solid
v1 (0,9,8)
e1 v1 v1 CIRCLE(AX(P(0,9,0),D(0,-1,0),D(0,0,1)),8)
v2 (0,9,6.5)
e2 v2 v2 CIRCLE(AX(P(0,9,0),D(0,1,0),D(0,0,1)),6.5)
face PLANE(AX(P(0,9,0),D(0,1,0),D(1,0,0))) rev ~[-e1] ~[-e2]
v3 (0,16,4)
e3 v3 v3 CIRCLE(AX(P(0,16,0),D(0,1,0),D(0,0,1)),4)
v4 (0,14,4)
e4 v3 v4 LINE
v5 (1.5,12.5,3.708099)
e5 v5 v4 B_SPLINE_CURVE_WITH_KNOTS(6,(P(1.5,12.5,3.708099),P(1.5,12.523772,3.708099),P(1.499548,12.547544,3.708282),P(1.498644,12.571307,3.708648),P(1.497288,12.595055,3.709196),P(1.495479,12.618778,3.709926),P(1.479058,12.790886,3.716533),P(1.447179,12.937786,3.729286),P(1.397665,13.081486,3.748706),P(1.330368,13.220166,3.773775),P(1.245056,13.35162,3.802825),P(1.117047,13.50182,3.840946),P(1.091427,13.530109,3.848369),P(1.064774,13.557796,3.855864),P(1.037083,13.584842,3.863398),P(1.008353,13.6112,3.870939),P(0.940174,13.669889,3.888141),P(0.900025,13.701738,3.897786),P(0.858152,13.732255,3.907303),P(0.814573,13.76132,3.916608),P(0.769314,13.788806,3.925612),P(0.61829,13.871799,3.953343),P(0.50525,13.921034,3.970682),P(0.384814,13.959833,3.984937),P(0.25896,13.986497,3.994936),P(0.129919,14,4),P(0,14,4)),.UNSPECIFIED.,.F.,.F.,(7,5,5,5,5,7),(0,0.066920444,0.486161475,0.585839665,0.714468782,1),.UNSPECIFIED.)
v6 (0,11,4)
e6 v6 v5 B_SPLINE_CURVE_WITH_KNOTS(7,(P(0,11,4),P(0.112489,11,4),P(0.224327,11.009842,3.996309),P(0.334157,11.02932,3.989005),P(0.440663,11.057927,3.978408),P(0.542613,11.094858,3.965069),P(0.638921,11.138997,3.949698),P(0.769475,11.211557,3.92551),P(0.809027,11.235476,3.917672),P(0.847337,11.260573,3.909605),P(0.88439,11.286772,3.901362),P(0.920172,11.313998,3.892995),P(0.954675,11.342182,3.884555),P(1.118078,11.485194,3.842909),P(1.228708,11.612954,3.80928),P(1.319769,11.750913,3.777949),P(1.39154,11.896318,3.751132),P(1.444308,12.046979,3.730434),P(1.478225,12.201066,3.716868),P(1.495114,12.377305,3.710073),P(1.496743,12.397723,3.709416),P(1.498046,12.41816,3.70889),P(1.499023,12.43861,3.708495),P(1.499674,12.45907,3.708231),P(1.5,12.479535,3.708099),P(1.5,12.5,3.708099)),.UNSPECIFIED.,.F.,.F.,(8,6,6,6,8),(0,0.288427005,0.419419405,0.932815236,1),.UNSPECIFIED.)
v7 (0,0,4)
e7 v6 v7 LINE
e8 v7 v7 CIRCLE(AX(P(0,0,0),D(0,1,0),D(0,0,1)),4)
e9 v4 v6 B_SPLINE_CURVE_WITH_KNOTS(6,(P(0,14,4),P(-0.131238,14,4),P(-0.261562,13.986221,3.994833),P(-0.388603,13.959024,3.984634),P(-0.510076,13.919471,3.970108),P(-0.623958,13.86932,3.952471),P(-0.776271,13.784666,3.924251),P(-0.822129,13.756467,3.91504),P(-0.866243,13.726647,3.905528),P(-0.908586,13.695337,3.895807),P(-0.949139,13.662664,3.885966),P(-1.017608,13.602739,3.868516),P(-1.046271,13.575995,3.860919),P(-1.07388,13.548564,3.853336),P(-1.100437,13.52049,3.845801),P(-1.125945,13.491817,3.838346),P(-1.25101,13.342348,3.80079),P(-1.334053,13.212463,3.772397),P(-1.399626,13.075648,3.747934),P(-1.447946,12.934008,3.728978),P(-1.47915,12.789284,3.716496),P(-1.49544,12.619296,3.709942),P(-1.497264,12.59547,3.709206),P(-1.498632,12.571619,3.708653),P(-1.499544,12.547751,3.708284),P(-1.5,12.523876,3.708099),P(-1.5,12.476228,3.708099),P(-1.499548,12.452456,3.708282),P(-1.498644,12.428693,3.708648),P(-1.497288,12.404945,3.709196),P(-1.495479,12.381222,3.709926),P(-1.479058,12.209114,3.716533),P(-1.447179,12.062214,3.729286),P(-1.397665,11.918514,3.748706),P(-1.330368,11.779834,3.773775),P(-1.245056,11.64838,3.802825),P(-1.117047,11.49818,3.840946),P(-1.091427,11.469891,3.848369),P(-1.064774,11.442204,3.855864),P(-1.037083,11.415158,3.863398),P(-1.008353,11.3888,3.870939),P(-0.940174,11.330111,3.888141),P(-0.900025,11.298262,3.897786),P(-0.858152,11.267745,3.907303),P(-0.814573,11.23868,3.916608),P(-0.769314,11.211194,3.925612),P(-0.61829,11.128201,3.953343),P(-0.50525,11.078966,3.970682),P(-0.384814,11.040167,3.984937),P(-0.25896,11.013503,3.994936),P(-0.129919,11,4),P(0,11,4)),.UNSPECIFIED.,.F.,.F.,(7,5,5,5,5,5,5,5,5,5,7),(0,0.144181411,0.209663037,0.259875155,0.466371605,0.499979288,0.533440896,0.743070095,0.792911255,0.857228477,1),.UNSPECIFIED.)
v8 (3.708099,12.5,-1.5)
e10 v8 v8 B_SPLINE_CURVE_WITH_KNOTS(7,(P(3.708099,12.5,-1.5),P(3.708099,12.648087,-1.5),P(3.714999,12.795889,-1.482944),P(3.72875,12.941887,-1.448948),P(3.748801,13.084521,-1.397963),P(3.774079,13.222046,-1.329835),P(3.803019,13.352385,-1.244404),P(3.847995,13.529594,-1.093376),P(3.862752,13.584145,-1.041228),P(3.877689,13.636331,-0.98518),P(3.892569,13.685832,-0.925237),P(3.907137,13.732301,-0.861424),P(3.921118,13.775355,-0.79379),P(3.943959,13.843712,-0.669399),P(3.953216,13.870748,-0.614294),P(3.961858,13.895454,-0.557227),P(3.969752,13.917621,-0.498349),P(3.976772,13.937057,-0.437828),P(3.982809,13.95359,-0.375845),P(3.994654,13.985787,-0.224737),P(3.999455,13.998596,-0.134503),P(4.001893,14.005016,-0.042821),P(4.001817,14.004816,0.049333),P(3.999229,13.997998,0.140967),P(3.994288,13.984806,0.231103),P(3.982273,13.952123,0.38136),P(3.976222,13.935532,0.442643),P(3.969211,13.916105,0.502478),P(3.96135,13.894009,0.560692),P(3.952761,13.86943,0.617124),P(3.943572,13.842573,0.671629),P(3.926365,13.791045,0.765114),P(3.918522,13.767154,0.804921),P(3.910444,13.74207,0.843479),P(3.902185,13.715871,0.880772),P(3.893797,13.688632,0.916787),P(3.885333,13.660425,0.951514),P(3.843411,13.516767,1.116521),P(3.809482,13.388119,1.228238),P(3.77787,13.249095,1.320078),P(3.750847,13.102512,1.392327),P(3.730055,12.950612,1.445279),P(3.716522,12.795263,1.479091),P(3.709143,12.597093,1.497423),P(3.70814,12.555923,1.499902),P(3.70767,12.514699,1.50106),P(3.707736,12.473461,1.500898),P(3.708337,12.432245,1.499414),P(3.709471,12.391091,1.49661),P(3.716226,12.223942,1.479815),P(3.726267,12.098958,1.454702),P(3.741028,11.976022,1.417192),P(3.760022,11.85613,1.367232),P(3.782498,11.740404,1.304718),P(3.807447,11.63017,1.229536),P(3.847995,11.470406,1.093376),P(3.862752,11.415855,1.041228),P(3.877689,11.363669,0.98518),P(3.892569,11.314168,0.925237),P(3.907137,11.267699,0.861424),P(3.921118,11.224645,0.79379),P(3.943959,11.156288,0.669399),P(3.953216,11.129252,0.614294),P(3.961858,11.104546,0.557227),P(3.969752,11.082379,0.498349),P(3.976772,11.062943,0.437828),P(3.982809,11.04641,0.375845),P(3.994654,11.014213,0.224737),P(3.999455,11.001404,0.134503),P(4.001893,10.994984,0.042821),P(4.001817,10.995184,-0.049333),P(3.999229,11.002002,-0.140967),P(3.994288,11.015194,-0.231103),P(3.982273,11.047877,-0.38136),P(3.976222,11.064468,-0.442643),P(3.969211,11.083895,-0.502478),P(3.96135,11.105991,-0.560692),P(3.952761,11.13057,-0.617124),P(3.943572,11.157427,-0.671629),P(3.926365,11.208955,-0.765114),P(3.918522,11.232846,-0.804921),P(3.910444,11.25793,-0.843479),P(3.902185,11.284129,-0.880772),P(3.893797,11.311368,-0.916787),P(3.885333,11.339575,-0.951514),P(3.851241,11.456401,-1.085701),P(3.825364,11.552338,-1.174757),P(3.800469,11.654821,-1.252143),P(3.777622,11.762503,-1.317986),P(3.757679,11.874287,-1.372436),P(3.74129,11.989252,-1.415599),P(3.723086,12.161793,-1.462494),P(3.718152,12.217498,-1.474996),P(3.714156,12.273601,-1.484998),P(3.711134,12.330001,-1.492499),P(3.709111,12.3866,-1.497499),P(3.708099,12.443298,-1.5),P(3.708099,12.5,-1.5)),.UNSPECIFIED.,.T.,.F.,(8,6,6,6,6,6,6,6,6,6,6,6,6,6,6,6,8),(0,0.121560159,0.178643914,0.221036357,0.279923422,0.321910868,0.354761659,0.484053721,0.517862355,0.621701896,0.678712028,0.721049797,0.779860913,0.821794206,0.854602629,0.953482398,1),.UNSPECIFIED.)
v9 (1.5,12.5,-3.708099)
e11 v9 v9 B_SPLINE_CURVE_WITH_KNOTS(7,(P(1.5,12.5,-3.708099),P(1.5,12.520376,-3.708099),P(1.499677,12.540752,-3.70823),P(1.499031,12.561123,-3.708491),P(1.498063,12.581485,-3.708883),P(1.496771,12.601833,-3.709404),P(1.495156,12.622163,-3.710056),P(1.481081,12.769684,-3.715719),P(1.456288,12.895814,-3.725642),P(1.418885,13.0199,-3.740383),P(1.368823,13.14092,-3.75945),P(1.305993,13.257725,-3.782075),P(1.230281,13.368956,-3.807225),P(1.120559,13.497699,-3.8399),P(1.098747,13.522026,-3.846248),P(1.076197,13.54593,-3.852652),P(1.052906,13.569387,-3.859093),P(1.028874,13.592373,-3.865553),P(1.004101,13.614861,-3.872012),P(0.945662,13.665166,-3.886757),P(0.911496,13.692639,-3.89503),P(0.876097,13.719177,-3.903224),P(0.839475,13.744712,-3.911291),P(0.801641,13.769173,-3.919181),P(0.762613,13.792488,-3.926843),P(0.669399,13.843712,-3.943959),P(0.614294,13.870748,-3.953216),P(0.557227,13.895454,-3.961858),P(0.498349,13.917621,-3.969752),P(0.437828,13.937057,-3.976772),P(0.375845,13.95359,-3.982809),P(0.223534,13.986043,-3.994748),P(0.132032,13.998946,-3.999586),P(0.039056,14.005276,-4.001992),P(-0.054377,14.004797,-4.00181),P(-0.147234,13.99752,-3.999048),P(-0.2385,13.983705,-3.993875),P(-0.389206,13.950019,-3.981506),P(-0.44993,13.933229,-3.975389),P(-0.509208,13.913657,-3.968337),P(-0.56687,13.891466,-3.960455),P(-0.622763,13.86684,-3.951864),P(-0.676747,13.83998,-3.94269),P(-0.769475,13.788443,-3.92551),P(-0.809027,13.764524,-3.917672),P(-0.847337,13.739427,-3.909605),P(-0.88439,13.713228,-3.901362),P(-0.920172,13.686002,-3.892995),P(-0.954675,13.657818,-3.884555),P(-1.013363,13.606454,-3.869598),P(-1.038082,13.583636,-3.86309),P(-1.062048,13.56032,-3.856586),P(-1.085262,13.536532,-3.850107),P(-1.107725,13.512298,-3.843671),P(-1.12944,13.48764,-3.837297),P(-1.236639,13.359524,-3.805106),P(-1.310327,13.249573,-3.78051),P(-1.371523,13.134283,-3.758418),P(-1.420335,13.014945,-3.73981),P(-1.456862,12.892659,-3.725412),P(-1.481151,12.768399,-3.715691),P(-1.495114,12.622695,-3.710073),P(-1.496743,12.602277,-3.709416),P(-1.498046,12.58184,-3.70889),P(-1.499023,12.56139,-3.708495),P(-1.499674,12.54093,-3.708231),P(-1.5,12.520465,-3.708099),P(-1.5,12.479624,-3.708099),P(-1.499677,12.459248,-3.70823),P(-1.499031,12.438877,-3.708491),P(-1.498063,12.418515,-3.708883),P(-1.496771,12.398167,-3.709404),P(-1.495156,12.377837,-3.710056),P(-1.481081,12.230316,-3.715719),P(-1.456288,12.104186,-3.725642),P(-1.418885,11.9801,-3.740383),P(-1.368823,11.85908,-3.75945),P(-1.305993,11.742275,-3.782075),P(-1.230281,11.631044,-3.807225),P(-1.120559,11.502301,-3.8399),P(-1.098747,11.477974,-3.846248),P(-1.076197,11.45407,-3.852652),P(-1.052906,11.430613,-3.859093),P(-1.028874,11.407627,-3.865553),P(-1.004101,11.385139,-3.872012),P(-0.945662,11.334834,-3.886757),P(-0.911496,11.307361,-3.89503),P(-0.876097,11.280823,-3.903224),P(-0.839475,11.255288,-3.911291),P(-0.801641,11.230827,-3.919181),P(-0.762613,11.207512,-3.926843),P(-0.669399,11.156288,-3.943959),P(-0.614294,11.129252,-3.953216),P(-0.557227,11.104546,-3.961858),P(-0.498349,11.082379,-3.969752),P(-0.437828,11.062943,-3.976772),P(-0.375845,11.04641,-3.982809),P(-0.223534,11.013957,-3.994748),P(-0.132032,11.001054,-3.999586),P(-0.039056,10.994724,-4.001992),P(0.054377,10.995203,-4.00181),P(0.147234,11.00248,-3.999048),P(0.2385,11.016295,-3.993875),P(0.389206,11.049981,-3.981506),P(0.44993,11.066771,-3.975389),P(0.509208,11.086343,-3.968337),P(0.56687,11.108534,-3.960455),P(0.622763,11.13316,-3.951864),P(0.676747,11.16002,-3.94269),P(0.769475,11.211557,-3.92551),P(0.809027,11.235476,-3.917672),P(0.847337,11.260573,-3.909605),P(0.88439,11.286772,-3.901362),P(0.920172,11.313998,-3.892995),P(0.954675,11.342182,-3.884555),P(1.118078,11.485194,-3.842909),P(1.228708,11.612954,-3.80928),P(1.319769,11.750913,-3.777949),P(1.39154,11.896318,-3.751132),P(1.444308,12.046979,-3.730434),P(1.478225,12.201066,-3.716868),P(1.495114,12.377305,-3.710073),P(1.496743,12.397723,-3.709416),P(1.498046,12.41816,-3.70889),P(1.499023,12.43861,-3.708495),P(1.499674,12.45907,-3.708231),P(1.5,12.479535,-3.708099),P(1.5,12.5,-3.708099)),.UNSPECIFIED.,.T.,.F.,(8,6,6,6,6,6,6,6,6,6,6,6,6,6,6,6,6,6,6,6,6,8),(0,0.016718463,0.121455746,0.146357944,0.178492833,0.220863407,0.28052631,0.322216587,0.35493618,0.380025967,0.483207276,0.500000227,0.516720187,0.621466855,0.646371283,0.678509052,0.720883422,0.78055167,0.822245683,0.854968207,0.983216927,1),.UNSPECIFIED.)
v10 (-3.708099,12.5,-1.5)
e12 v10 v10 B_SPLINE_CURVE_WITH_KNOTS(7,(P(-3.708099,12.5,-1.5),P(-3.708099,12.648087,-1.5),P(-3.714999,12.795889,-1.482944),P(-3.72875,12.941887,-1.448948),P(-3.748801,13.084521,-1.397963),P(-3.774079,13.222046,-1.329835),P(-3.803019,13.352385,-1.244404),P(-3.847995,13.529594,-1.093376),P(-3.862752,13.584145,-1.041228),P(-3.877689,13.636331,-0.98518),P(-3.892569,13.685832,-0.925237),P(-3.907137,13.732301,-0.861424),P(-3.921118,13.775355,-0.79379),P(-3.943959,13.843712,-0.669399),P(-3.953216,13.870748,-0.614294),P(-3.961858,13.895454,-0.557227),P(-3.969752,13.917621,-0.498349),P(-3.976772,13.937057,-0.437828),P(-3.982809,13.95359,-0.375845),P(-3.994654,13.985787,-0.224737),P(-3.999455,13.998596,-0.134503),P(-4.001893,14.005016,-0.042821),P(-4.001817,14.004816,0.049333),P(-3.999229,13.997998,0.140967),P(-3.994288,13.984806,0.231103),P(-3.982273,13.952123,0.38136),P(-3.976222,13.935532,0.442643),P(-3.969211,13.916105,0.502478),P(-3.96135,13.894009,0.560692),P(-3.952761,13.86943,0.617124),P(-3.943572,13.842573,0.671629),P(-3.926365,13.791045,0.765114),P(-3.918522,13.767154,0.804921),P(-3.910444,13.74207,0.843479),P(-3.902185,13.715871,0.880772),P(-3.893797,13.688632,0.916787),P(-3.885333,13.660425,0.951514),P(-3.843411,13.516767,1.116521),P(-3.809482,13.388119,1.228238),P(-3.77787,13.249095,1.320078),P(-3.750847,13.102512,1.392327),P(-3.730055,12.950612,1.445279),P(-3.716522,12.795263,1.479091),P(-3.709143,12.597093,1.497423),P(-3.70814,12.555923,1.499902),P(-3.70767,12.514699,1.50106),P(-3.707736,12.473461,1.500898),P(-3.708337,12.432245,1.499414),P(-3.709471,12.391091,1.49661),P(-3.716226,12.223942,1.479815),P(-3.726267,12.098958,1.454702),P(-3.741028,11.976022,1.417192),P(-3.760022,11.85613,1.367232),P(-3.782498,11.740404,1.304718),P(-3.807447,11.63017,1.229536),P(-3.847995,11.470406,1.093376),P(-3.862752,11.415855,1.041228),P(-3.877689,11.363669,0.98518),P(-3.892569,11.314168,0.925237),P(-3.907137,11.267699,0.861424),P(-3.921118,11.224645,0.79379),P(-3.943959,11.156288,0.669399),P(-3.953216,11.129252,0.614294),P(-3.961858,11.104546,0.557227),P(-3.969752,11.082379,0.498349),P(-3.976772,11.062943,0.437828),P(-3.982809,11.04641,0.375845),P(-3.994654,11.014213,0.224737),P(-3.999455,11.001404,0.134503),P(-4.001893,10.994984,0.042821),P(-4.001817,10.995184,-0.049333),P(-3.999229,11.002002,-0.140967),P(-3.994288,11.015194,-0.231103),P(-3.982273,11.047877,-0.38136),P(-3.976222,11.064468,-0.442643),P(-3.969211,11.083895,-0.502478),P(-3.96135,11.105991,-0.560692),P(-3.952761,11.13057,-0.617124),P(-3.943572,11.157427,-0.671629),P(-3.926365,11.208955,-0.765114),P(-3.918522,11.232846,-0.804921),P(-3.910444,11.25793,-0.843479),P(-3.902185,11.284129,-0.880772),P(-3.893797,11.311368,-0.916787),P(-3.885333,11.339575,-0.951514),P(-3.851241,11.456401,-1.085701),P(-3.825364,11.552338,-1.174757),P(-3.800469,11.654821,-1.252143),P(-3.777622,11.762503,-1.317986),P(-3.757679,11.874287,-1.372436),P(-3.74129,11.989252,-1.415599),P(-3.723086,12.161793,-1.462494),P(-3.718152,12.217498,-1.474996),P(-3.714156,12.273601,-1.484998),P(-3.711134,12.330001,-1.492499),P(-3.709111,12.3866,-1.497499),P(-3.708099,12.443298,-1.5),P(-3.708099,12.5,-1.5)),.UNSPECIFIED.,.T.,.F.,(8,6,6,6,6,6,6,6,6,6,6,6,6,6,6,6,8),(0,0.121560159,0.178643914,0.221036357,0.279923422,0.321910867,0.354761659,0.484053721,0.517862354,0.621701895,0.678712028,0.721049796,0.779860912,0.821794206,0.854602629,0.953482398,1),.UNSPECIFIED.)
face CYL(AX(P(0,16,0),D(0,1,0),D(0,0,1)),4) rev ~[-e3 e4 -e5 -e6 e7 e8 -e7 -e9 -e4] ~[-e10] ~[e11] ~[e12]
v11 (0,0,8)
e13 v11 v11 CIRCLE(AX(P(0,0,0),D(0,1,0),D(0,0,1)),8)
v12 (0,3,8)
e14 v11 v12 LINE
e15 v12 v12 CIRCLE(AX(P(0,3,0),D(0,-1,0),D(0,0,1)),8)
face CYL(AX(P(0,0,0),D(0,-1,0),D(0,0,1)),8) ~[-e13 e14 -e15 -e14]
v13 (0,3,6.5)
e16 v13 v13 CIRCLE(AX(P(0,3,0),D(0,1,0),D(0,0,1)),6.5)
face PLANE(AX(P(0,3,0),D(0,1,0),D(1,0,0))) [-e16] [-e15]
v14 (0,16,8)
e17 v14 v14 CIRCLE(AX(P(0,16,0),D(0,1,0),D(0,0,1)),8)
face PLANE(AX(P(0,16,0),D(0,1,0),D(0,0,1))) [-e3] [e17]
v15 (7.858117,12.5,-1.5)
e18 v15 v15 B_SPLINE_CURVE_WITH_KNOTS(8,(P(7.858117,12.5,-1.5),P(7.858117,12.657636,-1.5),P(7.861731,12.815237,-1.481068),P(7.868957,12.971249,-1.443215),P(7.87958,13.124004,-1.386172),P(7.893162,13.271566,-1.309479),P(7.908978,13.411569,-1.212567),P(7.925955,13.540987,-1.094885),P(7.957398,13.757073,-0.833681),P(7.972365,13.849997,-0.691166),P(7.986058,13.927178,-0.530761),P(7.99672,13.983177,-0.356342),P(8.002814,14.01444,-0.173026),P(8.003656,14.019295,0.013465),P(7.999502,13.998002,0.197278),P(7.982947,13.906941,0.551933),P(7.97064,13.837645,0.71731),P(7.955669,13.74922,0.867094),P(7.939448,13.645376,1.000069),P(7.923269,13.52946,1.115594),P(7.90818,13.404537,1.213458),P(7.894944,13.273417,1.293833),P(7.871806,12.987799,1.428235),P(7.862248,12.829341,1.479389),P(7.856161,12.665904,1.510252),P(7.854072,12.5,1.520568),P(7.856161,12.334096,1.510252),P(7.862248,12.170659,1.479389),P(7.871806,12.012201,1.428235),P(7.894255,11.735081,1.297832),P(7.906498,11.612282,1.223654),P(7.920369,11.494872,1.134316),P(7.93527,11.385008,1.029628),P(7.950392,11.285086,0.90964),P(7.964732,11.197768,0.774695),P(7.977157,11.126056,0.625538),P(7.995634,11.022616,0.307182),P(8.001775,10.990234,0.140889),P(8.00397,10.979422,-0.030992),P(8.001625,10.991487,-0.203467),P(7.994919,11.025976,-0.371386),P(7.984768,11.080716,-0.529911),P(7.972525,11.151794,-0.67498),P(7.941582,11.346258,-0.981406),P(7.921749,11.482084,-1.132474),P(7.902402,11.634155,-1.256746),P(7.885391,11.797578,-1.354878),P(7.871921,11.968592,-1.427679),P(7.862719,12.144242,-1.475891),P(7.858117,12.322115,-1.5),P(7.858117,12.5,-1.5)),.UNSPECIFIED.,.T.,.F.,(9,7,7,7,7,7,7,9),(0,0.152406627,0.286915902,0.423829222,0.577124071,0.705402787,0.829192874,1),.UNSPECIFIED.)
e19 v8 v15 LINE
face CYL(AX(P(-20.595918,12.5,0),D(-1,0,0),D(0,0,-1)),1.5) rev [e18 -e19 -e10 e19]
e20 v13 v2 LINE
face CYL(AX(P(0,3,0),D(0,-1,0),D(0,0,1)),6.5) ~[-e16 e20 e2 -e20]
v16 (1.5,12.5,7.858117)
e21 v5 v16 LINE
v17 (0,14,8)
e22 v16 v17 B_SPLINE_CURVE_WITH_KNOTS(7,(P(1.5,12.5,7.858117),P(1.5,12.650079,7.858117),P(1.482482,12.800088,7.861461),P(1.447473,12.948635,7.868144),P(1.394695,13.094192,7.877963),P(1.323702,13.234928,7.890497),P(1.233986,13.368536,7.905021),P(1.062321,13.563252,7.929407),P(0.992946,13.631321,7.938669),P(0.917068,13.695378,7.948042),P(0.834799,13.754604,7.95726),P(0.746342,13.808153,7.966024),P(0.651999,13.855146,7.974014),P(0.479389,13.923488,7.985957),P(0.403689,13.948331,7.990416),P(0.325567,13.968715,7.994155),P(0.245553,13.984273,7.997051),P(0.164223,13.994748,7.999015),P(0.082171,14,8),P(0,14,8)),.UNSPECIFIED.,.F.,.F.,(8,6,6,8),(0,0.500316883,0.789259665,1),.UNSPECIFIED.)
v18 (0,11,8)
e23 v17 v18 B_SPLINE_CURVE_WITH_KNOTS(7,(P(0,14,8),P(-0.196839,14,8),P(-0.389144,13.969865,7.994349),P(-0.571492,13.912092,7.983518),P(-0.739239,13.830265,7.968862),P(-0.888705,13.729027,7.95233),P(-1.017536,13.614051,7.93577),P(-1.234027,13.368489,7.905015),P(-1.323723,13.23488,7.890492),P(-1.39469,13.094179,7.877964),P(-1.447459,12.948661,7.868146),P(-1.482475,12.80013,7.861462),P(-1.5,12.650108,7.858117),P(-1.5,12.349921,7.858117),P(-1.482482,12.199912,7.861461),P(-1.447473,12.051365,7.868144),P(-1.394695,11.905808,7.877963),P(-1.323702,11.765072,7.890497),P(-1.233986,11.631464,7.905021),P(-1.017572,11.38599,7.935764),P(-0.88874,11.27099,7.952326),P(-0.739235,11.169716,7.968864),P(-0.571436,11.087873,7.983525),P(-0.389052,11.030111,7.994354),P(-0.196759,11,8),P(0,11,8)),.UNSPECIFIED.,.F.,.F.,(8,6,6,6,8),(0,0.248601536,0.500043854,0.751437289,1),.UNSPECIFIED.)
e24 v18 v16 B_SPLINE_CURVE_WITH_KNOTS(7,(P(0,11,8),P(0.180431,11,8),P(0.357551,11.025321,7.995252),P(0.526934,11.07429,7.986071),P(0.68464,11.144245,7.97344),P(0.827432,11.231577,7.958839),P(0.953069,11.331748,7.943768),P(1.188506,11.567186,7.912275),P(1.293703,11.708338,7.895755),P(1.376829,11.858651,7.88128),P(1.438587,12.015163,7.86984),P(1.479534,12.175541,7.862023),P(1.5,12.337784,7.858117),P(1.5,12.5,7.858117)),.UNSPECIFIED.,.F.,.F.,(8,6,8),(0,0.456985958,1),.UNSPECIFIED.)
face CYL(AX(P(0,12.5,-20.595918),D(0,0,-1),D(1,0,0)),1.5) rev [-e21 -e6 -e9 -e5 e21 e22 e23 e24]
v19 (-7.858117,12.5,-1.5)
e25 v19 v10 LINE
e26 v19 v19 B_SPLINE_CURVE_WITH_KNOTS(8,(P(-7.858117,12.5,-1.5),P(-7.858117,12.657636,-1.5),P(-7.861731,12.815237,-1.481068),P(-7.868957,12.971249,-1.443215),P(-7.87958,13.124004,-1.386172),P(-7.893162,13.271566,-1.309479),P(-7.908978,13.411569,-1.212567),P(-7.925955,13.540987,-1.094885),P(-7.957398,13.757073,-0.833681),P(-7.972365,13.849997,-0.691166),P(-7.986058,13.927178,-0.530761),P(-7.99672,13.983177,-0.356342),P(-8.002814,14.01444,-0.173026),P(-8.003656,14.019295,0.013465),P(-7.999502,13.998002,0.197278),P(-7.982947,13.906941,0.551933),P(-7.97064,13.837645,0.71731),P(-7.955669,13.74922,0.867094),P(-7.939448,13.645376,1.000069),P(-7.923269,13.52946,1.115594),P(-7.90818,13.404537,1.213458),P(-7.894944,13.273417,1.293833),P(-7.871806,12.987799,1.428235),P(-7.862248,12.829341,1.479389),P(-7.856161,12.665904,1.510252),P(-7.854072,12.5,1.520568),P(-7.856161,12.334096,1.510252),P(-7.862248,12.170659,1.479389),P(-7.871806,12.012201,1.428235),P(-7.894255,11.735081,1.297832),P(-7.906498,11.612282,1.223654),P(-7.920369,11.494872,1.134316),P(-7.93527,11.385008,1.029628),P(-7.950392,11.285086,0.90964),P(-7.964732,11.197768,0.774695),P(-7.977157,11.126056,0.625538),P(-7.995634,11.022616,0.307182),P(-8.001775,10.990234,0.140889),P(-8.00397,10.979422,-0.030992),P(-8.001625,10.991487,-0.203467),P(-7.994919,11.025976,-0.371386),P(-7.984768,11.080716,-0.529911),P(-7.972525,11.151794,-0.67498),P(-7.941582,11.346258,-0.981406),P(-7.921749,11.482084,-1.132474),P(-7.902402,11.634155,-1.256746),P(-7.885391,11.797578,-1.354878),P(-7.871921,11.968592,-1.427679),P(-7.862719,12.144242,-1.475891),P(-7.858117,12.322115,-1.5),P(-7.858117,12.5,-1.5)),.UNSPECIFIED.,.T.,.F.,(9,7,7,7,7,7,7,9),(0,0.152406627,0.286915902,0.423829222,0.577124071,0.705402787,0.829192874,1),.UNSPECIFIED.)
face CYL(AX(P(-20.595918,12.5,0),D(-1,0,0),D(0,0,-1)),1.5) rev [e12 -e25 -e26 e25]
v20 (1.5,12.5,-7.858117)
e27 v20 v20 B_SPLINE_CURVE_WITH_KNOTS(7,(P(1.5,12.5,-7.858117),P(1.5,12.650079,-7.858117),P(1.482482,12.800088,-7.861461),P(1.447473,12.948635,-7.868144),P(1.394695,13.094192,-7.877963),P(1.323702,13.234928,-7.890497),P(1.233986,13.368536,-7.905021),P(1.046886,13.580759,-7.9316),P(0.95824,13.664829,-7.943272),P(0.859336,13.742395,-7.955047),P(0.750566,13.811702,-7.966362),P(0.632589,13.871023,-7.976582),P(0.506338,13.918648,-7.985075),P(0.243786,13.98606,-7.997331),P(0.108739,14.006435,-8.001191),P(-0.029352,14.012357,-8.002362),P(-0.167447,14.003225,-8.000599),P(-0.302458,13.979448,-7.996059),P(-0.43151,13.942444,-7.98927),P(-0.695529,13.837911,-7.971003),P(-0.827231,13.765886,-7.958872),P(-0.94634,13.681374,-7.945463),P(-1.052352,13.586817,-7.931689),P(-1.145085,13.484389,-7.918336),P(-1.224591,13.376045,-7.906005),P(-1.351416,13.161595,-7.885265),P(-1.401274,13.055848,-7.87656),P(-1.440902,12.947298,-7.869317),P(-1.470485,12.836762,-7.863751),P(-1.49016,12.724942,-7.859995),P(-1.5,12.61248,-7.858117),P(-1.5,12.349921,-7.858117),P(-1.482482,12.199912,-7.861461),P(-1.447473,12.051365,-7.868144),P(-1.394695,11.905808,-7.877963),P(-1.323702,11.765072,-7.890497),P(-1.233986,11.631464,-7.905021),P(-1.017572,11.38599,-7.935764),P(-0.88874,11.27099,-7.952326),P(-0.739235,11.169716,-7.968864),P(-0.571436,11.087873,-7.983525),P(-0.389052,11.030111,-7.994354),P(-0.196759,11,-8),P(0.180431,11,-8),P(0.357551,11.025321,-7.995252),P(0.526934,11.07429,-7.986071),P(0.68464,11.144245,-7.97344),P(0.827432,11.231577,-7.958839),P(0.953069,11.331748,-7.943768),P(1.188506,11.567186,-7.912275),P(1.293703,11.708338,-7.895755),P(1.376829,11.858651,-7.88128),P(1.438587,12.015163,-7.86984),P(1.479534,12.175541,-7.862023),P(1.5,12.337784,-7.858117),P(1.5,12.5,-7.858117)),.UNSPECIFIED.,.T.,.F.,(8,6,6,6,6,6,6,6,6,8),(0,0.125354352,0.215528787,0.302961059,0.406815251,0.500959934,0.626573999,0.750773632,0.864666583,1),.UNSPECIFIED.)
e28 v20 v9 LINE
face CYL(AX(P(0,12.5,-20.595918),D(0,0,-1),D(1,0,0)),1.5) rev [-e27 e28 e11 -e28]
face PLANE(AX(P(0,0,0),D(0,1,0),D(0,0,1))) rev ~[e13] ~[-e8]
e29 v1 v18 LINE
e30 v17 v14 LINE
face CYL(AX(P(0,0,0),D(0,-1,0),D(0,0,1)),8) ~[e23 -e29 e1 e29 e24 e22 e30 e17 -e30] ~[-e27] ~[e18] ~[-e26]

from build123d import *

# Parameters (mm, degrees)
SKETCH_1_R               = 8
EXTRUDE_1_DEPTH          = 16
SKETCH_2_R               = 4
CUT_EXTRUDE_1_DEPTH      = 20.595917942
SKETCH_3_OUTSIDE_W       = 23.542
SKETCH_3_OUTSIDE_H       = 23.542
SKETCH_3_OUTSIDE_R       = 6.5
CUT_EXTRUDE_2_DEPTH      = 6
CUT_EXTRUDE_3_DEPTH      = 20.595917942
CUT_EXTRUDE_3_DEPTH_BACK = 20.595917942
SKETCH_4_R               = 1.5
CUT_EXTRUDE_4_DEPTH      = 20.595918116
CUT_EXTRUDE_4_DEPTH_BACK = 20.595918116
SKETCH_5_R               = 1.5


with BuildPart() as part:
    # 草图1 → 凸台-拉伸1 (new body)
    with BuildSketch(Plane(origin=(0, 0, 0), x_dir=(1, 0, 0), z_dir=(0, 1, 0))):
        with Locations(Location((0, 0, 0), (0, 0, 270))):
            Circle(SKETCH_1_R)
    extrude(amount=EXTRUDE_1_DEPTH)

    # 草图2 → 切除-拉伸1 (cut, through all)
    with BuildSketch(Plane(origin=(0, 16, 0), x_dir=(1, 0, 0), z_dir=(0, 1, 0))):
        with Locations(Location((0, 0, 0), (0, 0, 270))):
            Circle(SKETCH_2_R)
    extrude(amount=-CUT_EXTRUDE_1_DEPTH, mode=Mode.SUBTRACT)

    # 草图3 outside → 切除-拉伸2 (cut)
    with BuildSketch(Plane(origin=(0, 3, 0), x_dir=(1, 0, 0), z_dir=(0, 1, 0))):
        Rectangle(SKETCH_3_OUTSIDE_W, SKETCH_3_OUTSIDE_H)
        with Locations(Location((0, 0, 0), (0, 0, 270))):
            Circle(SKETCH_3_OUTSIDE_R, mode=Mode.SUBTRACT)
    extrude(amount=CUT_EXTRUDE_2_DEPTH, mode=Mode.SUBTRACT)

    # 草图4 → 切除-拉伸3 (cut, two sides: drawn at the far end of the back side and taken through both)
    with BuildSketch(Plane(origin=(0, 0, 0), x_dir=(0, 0, -1), z_dir=(1, 0, 0)).offset(-CUT_EXTRUDE_3_DEPTH_BACK)):
        with Locations((0, 12.5)):
            Circle(SKETCH_4_R)
    extrude(amount=CUT_EXTRUDE_3_DEPTH + CUT_EXTRUDE_3_DEPTH_BACK, mode=Mode.SUBTRACT)

    # 草图5 → 切除-拉伸4 (cut, two sides: drawn at the far end of the back side and taken through both)
    with BuildSketch(Plane.XY.offset(-CUT_EXTRUDE_4_DEPTH_BACK)):
        with Locations((0, 12.5)):
            Circle(SKETCH_5_R)
    extrude(amount=CUT_EXTRUDE_4_DEPTH + CUT_EXTRUDE_4_DEPTH_BACK, mode=Mode.SUBTRACT)


solid = part.part
